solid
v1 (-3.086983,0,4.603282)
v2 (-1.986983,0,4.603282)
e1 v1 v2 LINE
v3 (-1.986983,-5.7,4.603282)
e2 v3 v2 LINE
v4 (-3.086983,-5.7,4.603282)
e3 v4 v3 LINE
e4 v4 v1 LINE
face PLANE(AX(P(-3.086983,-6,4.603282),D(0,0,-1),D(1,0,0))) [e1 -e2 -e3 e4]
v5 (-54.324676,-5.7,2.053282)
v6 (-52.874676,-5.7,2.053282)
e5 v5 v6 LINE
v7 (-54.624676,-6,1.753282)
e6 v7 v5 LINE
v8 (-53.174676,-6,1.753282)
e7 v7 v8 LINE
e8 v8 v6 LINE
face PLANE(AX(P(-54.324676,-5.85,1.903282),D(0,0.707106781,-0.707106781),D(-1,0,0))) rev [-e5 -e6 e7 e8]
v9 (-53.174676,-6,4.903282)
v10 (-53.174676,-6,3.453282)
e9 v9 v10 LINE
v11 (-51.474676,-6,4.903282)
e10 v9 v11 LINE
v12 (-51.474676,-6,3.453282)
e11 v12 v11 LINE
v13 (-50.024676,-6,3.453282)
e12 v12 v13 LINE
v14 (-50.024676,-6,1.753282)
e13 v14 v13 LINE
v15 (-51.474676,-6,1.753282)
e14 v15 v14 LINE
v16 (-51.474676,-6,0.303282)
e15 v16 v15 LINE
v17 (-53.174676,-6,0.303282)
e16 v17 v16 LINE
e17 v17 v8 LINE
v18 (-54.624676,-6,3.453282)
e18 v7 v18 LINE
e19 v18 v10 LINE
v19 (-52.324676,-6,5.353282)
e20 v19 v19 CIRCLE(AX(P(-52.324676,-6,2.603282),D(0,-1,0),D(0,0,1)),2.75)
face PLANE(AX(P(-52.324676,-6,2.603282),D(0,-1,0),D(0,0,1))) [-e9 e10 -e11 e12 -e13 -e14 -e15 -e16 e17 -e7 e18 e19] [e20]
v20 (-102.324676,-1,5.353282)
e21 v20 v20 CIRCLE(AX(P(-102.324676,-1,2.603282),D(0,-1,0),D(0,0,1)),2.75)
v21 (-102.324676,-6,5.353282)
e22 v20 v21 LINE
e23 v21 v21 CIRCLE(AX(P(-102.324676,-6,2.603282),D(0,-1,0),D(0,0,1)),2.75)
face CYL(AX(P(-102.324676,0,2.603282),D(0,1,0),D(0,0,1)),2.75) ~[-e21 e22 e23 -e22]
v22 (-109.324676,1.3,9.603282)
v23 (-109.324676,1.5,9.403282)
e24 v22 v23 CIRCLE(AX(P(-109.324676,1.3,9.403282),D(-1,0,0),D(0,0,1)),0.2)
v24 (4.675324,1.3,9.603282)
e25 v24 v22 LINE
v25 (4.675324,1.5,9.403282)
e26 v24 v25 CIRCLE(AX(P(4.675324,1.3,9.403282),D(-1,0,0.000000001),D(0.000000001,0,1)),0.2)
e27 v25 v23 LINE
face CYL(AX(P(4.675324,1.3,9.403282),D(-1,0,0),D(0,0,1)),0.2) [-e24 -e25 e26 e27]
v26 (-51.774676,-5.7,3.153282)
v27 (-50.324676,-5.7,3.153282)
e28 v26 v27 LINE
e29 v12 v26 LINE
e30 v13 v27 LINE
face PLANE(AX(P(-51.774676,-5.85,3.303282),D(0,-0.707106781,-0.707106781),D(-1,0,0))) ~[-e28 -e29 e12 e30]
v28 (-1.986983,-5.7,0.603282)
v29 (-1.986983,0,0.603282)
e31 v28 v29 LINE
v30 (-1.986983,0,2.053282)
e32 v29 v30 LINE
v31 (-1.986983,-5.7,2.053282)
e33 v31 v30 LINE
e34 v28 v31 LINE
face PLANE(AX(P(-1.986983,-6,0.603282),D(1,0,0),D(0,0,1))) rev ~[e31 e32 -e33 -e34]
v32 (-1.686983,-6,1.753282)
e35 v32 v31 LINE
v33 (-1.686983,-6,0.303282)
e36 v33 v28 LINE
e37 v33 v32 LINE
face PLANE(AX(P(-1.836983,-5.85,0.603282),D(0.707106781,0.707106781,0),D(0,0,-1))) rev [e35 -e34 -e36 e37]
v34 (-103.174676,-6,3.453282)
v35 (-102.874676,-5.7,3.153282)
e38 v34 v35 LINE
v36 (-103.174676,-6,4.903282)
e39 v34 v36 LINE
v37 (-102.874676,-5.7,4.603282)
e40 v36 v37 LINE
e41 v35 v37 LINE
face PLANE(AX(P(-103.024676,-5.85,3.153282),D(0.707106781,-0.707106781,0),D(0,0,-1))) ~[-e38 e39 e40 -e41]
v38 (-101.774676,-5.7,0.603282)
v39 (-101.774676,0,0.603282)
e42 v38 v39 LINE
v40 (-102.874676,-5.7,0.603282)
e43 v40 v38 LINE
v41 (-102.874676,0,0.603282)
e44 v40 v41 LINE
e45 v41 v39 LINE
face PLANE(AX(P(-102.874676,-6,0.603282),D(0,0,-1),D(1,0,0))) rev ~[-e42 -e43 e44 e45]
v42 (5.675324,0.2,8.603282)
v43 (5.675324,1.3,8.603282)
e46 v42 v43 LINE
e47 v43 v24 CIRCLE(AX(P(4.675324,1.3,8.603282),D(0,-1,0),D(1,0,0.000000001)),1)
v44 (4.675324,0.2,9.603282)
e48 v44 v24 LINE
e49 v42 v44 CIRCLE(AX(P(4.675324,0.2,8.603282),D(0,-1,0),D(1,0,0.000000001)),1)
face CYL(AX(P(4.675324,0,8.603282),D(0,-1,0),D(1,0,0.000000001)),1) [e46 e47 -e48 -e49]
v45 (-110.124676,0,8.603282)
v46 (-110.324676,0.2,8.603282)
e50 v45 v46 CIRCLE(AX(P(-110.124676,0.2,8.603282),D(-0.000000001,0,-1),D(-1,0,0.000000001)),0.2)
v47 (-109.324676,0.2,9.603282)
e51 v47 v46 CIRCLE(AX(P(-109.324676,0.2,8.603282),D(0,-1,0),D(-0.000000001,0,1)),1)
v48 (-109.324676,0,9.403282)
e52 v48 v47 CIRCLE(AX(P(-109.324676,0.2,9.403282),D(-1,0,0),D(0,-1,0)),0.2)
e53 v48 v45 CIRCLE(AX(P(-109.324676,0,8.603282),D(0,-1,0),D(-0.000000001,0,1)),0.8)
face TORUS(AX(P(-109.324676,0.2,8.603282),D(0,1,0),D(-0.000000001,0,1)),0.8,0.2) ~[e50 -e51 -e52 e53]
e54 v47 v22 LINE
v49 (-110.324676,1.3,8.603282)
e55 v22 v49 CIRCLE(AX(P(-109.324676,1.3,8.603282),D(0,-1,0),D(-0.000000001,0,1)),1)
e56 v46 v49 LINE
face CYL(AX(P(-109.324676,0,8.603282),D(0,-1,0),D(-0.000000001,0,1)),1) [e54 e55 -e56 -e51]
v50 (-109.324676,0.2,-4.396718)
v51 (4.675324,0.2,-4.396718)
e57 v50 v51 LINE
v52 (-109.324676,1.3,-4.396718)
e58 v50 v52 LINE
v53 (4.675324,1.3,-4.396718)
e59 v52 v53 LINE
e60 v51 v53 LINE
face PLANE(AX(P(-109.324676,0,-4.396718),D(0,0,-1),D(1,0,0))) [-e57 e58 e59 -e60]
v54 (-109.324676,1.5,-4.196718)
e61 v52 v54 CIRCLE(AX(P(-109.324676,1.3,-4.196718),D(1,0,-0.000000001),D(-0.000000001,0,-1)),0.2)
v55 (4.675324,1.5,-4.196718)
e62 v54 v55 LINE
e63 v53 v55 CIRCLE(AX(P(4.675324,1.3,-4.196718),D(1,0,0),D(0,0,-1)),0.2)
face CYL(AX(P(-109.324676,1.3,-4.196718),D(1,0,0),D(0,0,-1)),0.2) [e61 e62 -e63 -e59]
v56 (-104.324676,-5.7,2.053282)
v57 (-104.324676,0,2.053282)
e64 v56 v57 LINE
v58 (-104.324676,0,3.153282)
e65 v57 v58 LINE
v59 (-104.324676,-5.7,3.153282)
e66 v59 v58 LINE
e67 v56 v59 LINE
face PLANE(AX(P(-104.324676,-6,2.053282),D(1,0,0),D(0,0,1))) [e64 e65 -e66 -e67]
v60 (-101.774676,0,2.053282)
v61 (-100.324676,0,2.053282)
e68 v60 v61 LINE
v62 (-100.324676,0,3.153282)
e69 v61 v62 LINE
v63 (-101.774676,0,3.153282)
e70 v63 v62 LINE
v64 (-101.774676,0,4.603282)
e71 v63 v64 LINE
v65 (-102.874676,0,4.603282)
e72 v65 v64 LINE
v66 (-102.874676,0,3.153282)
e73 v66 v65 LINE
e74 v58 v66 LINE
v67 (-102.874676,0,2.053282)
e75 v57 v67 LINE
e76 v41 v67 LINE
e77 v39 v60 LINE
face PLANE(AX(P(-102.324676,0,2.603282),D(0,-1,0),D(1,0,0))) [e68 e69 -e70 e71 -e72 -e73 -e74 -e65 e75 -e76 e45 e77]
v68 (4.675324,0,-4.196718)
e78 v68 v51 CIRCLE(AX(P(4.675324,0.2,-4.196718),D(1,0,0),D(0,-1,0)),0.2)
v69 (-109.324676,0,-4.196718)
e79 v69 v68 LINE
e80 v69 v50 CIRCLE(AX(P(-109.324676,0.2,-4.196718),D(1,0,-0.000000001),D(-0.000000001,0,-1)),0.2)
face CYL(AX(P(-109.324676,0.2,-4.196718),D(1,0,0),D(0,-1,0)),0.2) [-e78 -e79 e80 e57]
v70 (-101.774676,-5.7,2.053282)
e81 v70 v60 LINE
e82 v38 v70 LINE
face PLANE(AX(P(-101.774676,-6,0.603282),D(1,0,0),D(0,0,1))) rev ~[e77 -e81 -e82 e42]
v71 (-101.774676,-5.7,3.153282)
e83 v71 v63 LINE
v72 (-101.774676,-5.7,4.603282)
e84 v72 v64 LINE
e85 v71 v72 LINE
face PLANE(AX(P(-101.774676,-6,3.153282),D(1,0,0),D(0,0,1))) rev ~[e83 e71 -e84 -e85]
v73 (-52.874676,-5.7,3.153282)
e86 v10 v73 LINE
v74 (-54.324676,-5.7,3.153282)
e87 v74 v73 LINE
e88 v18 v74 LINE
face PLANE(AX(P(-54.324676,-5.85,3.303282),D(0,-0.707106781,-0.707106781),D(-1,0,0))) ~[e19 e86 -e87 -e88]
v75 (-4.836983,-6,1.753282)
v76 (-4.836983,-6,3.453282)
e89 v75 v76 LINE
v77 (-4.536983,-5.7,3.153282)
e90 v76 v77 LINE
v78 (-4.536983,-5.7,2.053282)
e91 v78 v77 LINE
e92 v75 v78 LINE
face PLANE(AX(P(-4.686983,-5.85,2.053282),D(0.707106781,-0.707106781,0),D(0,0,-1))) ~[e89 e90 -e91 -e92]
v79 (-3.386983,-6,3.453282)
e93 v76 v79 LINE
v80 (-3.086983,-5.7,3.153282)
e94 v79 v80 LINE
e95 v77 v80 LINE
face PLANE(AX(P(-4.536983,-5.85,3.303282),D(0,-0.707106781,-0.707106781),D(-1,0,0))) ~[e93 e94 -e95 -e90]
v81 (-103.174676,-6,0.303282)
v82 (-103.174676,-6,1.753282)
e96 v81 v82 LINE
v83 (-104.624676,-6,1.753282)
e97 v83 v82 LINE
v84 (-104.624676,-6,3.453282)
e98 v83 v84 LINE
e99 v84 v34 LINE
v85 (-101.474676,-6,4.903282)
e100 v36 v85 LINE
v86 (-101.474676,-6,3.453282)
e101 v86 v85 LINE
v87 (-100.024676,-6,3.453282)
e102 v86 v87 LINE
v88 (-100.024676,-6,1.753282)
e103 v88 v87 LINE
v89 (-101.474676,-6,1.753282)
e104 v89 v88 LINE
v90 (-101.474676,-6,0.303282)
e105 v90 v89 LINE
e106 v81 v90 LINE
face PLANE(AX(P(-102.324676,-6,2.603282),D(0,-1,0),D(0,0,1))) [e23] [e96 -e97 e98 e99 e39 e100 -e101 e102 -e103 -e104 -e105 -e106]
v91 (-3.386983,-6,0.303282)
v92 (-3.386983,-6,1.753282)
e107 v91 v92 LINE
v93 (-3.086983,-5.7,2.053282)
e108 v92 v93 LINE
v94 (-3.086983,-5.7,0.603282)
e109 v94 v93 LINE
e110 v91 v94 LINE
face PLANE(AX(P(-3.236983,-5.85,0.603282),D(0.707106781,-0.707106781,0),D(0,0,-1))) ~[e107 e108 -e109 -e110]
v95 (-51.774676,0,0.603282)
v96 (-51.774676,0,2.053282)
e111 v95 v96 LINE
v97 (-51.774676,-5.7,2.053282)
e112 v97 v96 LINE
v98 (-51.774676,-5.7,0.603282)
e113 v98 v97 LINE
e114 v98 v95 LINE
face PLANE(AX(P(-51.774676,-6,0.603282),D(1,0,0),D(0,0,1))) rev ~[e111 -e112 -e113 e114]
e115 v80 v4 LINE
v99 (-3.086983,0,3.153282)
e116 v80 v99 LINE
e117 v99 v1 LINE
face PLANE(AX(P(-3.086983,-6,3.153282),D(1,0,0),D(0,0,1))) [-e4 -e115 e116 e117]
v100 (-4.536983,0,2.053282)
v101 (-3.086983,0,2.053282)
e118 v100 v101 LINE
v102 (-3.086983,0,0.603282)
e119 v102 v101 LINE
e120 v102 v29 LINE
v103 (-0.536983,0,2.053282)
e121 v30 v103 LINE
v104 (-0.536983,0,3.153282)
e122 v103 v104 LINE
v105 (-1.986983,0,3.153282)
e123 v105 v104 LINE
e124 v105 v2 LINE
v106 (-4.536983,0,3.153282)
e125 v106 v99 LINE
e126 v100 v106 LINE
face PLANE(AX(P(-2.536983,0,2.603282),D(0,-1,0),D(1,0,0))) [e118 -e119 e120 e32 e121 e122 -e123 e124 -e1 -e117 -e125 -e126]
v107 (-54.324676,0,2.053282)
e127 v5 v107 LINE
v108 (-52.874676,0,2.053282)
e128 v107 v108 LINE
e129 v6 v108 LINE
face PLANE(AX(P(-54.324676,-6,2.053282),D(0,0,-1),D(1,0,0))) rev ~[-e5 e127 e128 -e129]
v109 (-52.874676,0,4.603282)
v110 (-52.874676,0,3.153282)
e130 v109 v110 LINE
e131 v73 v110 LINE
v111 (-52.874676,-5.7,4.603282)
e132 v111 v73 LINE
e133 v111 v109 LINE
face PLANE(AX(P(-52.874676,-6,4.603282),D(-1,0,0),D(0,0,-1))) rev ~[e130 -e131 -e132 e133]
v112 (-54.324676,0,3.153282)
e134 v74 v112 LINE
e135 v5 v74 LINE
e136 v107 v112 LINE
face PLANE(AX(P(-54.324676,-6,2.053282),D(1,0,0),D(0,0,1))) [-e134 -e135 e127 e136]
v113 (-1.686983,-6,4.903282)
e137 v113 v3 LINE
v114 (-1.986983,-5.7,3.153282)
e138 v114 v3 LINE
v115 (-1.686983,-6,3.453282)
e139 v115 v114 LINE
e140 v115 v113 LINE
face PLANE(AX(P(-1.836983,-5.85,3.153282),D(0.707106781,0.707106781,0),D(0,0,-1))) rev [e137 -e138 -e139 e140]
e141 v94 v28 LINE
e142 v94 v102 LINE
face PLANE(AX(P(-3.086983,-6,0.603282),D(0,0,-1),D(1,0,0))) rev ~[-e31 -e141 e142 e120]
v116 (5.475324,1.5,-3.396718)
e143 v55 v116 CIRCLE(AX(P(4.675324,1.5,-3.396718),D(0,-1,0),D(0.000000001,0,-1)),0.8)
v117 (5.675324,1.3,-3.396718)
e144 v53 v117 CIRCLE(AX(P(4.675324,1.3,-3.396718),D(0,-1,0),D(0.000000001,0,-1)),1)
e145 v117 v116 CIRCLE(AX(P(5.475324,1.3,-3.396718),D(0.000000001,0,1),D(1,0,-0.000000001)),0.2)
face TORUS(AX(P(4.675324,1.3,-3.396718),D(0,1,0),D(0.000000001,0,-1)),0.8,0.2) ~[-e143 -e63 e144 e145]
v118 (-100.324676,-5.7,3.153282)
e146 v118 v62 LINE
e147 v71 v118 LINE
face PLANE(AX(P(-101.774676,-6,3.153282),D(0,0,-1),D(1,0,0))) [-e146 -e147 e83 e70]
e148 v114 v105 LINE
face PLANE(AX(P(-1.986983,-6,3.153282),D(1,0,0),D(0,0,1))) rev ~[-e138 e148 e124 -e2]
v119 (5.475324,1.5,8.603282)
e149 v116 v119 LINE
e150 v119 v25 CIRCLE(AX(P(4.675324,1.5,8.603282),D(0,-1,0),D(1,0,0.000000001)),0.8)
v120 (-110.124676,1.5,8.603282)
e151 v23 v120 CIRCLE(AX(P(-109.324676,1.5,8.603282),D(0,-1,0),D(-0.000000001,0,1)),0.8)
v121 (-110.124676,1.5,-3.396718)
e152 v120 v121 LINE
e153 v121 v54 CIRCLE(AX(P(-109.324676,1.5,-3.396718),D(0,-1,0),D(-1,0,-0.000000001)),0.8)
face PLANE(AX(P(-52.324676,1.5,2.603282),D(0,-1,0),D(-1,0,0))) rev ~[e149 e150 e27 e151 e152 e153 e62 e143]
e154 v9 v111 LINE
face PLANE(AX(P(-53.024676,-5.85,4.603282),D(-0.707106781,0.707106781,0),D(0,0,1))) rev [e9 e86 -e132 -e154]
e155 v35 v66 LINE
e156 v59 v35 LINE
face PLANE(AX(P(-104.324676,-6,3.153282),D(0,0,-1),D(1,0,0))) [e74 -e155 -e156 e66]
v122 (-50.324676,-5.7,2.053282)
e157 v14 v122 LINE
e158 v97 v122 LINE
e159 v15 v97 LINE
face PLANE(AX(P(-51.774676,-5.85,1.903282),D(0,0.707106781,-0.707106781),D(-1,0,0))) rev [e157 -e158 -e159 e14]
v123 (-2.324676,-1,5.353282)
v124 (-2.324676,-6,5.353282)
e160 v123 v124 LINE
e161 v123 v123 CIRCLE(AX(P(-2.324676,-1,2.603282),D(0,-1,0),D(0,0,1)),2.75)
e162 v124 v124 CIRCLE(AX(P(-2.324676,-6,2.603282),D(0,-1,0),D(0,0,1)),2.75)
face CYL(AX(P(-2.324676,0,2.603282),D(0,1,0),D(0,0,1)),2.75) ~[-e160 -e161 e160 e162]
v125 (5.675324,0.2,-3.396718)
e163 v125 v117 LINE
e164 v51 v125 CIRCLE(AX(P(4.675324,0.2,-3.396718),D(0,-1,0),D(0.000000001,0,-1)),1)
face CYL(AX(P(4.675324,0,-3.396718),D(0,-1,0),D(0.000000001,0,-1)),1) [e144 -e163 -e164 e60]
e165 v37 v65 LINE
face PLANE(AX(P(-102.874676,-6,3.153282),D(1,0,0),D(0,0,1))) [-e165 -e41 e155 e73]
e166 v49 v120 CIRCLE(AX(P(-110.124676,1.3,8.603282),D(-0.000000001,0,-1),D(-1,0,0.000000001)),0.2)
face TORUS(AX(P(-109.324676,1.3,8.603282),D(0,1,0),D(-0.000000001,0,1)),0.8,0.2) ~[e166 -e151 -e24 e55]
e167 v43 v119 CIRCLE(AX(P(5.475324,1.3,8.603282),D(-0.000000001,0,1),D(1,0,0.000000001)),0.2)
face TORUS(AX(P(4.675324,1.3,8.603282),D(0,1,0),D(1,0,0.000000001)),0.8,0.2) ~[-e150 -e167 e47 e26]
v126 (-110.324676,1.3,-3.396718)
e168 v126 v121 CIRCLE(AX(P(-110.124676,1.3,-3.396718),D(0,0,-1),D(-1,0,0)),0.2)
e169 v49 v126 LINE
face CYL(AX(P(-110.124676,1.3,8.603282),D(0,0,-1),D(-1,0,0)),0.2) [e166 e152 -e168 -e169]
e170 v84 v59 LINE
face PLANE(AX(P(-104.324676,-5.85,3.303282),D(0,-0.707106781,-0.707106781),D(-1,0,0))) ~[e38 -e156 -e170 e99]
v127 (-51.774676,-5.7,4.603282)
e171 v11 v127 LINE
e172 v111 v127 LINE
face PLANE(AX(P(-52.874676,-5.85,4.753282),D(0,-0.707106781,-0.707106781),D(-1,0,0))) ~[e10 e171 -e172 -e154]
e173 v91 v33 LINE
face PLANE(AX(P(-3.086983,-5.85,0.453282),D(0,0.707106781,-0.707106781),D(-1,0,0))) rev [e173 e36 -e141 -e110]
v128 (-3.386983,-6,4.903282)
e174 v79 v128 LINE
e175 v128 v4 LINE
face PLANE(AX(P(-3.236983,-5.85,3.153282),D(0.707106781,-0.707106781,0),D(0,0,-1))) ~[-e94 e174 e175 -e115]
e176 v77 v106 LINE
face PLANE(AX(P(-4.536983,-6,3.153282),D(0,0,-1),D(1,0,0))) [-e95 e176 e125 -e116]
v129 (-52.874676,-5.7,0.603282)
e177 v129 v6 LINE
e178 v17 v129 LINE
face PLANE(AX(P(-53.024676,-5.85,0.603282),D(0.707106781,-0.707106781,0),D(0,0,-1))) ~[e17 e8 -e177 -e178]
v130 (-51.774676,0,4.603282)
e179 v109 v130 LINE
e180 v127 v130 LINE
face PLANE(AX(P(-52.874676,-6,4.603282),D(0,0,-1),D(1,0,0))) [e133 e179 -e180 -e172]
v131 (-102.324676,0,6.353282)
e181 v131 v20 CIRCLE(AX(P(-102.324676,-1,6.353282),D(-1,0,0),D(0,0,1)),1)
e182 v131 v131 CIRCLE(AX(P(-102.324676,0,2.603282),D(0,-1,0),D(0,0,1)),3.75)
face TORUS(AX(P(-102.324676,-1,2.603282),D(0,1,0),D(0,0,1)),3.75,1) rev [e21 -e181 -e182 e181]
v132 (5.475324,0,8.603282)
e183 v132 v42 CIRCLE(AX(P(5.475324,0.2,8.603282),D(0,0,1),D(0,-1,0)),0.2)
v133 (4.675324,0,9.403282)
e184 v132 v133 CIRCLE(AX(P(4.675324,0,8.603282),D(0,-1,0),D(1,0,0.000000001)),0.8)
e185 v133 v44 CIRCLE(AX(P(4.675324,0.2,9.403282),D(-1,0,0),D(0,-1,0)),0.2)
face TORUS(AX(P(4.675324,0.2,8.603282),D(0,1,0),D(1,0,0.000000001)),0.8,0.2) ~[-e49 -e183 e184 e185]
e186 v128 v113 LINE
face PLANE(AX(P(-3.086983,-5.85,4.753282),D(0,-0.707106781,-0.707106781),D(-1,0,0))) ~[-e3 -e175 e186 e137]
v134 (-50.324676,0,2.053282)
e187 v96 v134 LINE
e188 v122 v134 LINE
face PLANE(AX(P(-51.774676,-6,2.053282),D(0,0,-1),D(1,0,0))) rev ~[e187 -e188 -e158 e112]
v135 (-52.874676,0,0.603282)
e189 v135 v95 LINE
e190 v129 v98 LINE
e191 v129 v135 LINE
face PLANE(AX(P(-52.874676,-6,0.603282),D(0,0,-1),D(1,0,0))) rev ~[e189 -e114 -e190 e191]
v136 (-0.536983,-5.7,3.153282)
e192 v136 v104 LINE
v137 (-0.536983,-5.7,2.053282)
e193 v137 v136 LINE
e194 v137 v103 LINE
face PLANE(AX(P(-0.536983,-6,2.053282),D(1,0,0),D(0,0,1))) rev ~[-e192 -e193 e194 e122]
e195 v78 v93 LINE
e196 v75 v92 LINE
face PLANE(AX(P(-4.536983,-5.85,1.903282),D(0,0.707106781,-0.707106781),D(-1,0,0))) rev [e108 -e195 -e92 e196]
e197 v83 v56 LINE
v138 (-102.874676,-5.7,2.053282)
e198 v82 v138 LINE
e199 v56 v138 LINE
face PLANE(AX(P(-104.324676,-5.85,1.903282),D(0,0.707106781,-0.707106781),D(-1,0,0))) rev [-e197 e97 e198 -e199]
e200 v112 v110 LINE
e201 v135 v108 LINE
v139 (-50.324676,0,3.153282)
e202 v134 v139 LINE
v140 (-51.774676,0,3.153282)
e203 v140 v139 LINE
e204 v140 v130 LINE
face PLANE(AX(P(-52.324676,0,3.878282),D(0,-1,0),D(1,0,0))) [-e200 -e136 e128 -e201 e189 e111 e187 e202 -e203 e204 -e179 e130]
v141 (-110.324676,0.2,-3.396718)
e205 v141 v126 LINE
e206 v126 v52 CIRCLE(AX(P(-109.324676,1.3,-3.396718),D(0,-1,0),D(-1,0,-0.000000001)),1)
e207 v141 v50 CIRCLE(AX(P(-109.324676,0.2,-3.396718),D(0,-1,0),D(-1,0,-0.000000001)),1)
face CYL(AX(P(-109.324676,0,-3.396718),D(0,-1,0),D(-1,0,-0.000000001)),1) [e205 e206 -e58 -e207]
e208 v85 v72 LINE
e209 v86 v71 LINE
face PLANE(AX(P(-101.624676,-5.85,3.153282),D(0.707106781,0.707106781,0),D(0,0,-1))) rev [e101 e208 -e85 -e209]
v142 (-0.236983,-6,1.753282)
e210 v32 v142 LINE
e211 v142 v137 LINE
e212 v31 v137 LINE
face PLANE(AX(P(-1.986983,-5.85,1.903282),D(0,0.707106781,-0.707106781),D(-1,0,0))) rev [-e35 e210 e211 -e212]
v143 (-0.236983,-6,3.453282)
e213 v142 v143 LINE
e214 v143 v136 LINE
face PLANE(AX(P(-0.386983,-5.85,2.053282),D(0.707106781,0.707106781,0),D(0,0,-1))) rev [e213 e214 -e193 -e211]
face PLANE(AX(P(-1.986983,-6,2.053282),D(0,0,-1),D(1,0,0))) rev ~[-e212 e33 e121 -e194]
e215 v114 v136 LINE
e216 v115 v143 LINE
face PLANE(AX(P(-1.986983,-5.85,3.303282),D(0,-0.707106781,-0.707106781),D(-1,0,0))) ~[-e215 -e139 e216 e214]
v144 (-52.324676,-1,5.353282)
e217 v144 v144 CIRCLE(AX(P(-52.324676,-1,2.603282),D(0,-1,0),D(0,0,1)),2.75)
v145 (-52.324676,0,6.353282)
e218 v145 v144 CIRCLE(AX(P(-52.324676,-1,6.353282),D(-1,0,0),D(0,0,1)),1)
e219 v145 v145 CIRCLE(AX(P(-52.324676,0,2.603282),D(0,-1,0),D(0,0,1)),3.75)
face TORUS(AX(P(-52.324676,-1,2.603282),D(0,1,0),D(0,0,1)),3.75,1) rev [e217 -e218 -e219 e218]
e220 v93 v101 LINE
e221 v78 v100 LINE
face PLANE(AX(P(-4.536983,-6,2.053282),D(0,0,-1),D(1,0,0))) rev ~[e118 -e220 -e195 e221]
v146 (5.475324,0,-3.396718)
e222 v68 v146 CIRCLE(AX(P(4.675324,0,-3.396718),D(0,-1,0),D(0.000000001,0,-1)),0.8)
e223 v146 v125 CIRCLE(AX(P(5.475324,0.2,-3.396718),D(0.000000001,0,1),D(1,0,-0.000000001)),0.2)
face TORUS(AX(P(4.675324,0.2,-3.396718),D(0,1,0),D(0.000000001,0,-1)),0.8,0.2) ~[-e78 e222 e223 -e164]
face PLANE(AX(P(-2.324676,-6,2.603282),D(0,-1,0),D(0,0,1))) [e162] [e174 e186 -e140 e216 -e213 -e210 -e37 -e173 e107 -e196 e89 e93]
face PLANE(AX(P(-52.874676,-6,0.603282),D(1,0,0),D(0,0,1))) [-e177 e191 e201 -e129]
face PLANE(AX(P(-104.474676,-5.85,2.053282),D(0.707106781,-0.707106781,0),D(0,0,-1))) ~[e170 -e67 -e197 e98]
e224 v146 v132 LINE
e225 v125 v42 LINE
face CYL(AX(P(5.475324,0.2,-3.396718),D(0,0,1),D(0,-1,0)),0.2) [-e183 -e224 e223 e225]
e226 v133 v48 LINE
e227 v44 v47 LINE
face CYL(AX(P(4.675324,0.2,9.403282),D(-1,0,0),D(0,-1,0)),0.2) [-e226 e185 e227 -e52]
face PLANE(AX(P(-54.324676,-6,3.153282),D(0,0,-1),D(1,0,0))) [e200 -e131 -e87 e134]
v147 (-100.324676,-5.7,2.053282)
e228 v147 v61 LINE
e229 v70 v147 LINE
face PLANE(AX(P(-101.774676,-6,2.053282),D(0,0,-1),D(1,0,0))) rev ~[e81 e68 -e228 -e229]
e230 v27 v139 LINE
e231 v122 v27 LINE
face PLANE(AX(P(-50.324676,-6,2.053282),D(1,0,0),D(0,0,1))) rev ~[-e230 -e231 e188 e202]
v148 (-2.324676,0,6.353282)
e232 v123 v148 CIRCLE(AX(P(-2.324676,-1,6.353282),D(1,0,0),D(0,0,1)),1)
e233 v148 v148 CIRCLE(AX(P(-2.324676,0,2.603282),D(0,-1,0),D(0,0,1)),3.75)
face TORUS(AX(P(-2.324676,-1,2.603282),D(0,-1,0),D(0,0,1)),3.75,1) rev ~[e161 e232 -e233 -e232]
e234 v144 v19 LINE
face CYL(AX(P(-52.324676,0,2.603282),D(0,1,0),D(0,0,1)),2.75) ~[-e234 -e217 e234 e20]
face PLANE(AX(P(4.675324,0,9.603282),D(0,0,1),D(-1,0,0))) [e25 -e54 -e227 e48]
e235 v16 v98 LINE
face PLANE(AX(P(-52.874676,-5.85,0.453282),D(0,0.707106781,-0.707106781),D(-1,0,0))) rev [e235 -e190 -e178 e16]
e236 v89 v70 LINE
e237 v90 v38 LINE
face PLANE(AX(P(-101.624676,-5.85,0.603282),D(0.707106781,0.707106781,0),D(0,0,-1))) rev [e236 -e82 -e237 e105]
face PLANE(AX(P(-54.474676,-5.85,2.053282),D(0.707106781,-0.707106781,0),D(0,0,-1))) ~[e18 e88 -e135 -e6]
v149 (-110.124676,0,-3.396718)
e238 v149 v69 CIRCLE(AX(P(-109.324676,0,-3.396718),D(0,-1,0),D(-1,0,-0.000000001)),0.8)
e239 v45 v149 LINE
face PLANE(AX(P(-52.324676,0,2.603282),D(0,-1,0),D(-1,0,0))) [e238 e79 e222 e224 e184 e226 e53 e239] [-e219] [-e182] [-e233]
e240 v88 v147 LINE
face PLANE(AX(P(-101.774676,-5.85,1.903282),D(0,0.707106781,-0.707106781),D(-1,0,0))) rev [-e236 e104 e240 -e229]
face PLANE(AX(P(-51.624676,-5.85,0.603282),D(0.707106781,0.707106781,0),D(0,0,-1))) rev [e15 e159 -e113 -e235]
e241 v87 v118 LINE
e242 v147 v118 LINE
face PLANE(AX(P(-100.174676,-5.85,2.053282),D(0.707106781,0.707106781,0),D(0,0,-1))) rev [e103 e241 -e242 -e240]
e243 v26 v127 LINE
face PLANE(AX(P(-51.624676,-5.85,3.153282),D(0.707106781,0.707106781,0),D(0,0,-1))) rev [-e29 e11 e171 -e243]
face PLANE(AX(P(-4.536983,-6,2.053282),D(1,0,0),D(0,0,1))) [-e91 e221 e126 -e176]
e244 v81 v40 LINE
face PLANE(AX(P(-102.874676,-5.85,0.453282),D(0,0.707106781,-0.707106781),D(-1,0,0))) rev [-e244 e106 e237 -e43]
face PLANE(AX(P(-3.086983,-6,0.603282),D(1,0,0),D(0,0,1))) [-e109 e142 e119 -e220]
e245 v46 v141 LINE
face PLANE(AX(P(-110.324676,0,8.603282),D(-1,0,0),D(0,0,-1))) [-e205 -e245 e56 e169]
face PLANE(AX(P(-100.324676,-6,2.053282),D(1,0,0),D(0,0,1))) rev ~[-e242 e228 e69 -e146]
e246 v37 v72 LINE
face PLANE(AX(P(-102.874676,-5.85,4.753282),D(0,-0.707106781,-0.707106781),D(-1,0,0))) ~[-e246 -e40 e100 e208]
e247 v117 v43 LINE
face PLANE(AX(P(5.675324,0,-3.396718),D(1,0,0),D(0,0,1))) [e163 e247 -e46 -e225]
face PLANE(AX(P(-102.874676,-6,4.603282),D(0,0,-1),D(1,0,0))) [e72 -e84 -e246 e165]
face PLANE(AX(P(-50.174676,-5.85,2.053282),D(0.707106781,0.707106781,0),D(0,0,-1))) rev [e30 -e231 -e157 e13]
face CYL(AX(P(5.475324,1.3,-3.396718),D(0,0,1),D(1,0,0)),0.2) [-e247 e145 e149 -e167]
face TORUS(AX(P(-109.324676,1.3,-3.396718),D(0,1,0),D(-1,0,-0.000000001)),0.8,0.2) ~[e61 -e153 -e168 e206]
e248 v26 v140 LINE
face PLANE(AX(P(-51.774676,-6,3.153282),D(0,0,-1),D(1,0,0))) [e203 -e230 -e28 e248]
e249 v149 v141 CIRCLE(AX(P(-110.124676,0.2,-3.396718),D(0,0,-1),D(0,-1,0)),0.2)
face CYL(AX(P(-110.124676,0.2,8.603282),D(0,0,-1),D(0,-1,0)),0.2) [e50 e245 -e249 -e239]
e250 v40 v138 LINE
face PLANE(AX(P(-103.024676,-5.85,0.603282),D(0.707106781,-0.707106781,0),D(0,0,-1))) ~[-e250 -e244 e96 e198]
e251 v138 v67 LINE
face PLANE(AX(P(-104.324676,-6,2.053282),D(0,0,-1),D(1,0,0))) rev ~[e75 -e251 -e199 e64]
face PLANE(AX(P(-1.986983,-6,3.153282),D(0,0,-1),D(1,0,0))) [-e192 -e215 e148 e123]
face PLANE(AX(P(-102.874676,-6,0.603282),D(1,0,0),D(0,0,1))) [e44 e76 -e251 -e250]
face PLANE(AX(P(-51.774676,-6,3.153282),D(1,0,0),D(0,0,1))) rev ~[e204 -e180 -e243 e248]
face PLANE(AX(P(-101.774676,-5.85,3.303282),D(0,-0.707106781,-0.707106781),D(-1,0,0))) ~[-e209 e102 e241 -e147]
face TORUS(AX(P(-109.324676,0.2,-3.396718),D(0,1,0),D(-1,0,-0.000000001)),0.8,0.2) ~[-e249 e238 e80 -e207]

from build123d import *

# Parameters (mm, degrees)
BOSS_EXTRUDE1_DEPTH = 1.5
SKETCH2_R           = 2.75
BOSS_EXTRUDE2_DEPTH = 6
SKETCH3_W           = 1.1
SKETCH3_H           = 1.45
SKETCH3_W_2         = 1.45
SKETCH3_H_2         = 1.1
SKETCH3_W_3         = 4
SKETCH3_H_3         = 4
CUT_EXTRUDE1_DEPTH  = 6
CHAMFER1_SIZE       = 0.3
FILLET1_R           = 1
FILLET3_R           = 0.2


with BuildPart() as part:
    # Sketch1 → Boss-Extrude1 (new body)
    with BuildSketch(Plane(origin=(0, 0, 0), x_dir=(1, 0, 0), z_dir=(0, 1, 0))):
        with BuildLine():
            Line((-109.324675649, 4.396717546), (4.675324351, 4.396717546))
            ThreePointArc((4.675324351, 4.396717546), (5.382431132, 4.103824327), (5.675324351, 3.396717546))
            Line((5.675324351, 3.396717546), (5.675324351, -8.603282454))
            ThreePointArc((5.675324351, -8.603282454), (5.382431132, -9.310389235), (4.675324351, -9.603282454))
            Line((4.675324351, -9.603282454), (-109.324675649, -9.603282454))
            ThreePointArc((-109.324675649, -9.603282454), (-110.03178243, -9.310389235), (-110.324675649, -8.603282454))
            Line((-110.324675649, -8.603282454), (-110.324675649, 3.396717546))
            ThreePointArc((-110.324675649, 3.396717546), (-110.03178243, 4.103824327), (-109.324675649, 4.396717546))
        make_face()
    extrude(amount=BOSS_EXTRUDE1_DEPTH)

    # Sketch2 → Boss-Extrude2 (add)
    with BuildSketch(Plane.XZ):
        with Locations(Location((-52.324675649, 2.603282454, 0), (0, 0, 90))):
            Circle(SKETCH2_R)
        with Locations(Location((-102.324675649, 2.603282454, 0), (0, 0, 90))):
            Circle(SKETCH2_R)
        with Locations(Location((-2.324675649, 2.603282454, 0), (0, 0, 90))):
            Circle(SKETCH2_R)
    extrude(amount=BOSS_EXTRUDE2_DEPTH)

    # Sketch3 → Cut-Extrude1 (cut)
    with BuildSketch(Plane.XZ.offset(6)):
        with Locations((-52.324675649, 3.878282454)):
            Rectangle(SKETCH3_W, SKETCH3_H)
        with Locations((-51.049675649, 2.603282454)):
            Rectangle(SKETCH3_W_2, SKETCH3_H_2)
        with Locations((-52.324675649, 2.603282454)):
            Rectangle(SKETCH3_W, SKETCH3_H_2)
        with Locations((-53.599675649, 2.603282454)):
            Rectangle(SKETCH3_W_2, SKETCH3_H_2)
        with Locations((-52.324675649, 1.328282454)):
            Rectangle(SKETCH3_W, SKETCH3_H)
        with Locations((-2.53698339, 2.603282454)):
            Rectangle(SKETCH3_W_3, SKETCH3_H_2)
        with Locations((-2.53698339, 2.603282454)):
            Rectangle(SKETCH3_W, SKETCH3_H_3)
        with Locations((-102.324675649, 2.603282454)):
            Rectangle(SKETCH3_W, SKETCH3_H_3)
        with Locations((-102.324675649, 2.603282454)):
            Rectangle(SKETCH3_W_3, SKETCH3_H_2)
    extrude(amount=-CUT_EXTRUDE1_DEPTH, mode=Mode.SUBTRACT)

    # Chamfer1
    chamfer1_edges = [part.edges().sort_by_distance(p)[0] for p in [
        (-1.26198339, -6, 2.053282454),
        (-3.08698339, -6, 3.878282454),
        (-4.53698339, -6, 2.603282454),
        (-3.81198339, -6, 2.053282454),
        (-3.08698339, -6, 1.328282454),
        (-2.53698339, -6, 0.603282454),
        (-3.81198339, -6, 3.153282454),
        (-0.53698339, -6, 2.603282454),
        (-1.26198339, -6, 3.153282454),
        (-2.53698339, -6, 4.603282454),
        (-1.98698339, -6, 3.878282454),
        (-1.98698339, -6, 1.328282454),
        (-103.599675649, -6, 2.053282454),
        (-102.874675649, -6, 1.328282454),
        (-102.324675649, -6, 0.603282454),
        (-101.049675649, -6, 2.053282454),
        (-102.874675649, -6, 3.878282454),
        (-104.324675649, -6, 2.603282454),
        (-102.324675649, -6, 4.603282454),
        (-101.774675649, -6, 3.878282454),
        (-101.774675649, -6, 1.328282454),
        (-100.324675649, -6, 2.603282454),
        (-101.049675649, -6, 3.153282454),
        (-103.599675649, -6, 3.153282454),
        (-51.774675649, -6, 3.878282454),
        (-51.049675649, -6, 3.153282454),
        (-50.324675649, -6, 2.603282454),
        (-51.774675649, -6, 1.328282454),
        (-53.599675649, -6, 3.153282454),
        (-52.324675649, -6, 4.603282454),
        (-52.874675649, -6, 3.878282454),
        (-54.324675649, -6, 2.603282454),
        (-53.599675649, -6, 2.053282454),
        (-52.874675649, -6, 1.328282454),
        (-52.324675649, -6, 0.603282454),
        (-51.049675649, -6, 2.053282454),
    ]]
    chamfer(chamfer1_edges, length=CHAMFER1_SIZE)

    # Fillet1
    fillet1_edges = [part.edges().sort_by_distance(p)[0] for p in [
        (-52.324675649, 0, -0.146717546),
        (-102.324675649, 0, -0.146717546),
        (-2.324675649, 0, -0.146717546),
    ]]
    fillet(fillet1_edges, radius=FILLET1_R)

    # Fillet3
    fillet3_edges = [part.edges().sort_by_distance(p)[0] for p in [
        (5.382431132, 1.5, 9.310389235),
        (-52.324675649, 0, 9.603282454),
        (-110.03178243, 0, 9.310389235),
        (5.675324351, 1.5, 2.603282454),
        (5.382431132, 1.5, -4.103824327),
        (-52.324675649, 1.5, -4.396717546),
        (-110.03178243, 1.5, -4.103824327),
        (-110.324675649, 1.5, 2.603282454),
        (-110.03178243, 1.5, 9.310389235),
        (-52.324675649, 1.5, 9.603282454),
        (-110.324675649, 0, 2.603282454),
        (-110.03178243, 0, -4.103824327),
        (-52.324675649, 0, -4.396717546),
        (5.382431132, 0, -4.103824327),
        (5.675324351, 0, 2.603282454),
        (5.382431132, 0, 9.310389235),
    ]]
    fillet(fillet3_edges, radius=FILLET3_R)


solid = part.part
